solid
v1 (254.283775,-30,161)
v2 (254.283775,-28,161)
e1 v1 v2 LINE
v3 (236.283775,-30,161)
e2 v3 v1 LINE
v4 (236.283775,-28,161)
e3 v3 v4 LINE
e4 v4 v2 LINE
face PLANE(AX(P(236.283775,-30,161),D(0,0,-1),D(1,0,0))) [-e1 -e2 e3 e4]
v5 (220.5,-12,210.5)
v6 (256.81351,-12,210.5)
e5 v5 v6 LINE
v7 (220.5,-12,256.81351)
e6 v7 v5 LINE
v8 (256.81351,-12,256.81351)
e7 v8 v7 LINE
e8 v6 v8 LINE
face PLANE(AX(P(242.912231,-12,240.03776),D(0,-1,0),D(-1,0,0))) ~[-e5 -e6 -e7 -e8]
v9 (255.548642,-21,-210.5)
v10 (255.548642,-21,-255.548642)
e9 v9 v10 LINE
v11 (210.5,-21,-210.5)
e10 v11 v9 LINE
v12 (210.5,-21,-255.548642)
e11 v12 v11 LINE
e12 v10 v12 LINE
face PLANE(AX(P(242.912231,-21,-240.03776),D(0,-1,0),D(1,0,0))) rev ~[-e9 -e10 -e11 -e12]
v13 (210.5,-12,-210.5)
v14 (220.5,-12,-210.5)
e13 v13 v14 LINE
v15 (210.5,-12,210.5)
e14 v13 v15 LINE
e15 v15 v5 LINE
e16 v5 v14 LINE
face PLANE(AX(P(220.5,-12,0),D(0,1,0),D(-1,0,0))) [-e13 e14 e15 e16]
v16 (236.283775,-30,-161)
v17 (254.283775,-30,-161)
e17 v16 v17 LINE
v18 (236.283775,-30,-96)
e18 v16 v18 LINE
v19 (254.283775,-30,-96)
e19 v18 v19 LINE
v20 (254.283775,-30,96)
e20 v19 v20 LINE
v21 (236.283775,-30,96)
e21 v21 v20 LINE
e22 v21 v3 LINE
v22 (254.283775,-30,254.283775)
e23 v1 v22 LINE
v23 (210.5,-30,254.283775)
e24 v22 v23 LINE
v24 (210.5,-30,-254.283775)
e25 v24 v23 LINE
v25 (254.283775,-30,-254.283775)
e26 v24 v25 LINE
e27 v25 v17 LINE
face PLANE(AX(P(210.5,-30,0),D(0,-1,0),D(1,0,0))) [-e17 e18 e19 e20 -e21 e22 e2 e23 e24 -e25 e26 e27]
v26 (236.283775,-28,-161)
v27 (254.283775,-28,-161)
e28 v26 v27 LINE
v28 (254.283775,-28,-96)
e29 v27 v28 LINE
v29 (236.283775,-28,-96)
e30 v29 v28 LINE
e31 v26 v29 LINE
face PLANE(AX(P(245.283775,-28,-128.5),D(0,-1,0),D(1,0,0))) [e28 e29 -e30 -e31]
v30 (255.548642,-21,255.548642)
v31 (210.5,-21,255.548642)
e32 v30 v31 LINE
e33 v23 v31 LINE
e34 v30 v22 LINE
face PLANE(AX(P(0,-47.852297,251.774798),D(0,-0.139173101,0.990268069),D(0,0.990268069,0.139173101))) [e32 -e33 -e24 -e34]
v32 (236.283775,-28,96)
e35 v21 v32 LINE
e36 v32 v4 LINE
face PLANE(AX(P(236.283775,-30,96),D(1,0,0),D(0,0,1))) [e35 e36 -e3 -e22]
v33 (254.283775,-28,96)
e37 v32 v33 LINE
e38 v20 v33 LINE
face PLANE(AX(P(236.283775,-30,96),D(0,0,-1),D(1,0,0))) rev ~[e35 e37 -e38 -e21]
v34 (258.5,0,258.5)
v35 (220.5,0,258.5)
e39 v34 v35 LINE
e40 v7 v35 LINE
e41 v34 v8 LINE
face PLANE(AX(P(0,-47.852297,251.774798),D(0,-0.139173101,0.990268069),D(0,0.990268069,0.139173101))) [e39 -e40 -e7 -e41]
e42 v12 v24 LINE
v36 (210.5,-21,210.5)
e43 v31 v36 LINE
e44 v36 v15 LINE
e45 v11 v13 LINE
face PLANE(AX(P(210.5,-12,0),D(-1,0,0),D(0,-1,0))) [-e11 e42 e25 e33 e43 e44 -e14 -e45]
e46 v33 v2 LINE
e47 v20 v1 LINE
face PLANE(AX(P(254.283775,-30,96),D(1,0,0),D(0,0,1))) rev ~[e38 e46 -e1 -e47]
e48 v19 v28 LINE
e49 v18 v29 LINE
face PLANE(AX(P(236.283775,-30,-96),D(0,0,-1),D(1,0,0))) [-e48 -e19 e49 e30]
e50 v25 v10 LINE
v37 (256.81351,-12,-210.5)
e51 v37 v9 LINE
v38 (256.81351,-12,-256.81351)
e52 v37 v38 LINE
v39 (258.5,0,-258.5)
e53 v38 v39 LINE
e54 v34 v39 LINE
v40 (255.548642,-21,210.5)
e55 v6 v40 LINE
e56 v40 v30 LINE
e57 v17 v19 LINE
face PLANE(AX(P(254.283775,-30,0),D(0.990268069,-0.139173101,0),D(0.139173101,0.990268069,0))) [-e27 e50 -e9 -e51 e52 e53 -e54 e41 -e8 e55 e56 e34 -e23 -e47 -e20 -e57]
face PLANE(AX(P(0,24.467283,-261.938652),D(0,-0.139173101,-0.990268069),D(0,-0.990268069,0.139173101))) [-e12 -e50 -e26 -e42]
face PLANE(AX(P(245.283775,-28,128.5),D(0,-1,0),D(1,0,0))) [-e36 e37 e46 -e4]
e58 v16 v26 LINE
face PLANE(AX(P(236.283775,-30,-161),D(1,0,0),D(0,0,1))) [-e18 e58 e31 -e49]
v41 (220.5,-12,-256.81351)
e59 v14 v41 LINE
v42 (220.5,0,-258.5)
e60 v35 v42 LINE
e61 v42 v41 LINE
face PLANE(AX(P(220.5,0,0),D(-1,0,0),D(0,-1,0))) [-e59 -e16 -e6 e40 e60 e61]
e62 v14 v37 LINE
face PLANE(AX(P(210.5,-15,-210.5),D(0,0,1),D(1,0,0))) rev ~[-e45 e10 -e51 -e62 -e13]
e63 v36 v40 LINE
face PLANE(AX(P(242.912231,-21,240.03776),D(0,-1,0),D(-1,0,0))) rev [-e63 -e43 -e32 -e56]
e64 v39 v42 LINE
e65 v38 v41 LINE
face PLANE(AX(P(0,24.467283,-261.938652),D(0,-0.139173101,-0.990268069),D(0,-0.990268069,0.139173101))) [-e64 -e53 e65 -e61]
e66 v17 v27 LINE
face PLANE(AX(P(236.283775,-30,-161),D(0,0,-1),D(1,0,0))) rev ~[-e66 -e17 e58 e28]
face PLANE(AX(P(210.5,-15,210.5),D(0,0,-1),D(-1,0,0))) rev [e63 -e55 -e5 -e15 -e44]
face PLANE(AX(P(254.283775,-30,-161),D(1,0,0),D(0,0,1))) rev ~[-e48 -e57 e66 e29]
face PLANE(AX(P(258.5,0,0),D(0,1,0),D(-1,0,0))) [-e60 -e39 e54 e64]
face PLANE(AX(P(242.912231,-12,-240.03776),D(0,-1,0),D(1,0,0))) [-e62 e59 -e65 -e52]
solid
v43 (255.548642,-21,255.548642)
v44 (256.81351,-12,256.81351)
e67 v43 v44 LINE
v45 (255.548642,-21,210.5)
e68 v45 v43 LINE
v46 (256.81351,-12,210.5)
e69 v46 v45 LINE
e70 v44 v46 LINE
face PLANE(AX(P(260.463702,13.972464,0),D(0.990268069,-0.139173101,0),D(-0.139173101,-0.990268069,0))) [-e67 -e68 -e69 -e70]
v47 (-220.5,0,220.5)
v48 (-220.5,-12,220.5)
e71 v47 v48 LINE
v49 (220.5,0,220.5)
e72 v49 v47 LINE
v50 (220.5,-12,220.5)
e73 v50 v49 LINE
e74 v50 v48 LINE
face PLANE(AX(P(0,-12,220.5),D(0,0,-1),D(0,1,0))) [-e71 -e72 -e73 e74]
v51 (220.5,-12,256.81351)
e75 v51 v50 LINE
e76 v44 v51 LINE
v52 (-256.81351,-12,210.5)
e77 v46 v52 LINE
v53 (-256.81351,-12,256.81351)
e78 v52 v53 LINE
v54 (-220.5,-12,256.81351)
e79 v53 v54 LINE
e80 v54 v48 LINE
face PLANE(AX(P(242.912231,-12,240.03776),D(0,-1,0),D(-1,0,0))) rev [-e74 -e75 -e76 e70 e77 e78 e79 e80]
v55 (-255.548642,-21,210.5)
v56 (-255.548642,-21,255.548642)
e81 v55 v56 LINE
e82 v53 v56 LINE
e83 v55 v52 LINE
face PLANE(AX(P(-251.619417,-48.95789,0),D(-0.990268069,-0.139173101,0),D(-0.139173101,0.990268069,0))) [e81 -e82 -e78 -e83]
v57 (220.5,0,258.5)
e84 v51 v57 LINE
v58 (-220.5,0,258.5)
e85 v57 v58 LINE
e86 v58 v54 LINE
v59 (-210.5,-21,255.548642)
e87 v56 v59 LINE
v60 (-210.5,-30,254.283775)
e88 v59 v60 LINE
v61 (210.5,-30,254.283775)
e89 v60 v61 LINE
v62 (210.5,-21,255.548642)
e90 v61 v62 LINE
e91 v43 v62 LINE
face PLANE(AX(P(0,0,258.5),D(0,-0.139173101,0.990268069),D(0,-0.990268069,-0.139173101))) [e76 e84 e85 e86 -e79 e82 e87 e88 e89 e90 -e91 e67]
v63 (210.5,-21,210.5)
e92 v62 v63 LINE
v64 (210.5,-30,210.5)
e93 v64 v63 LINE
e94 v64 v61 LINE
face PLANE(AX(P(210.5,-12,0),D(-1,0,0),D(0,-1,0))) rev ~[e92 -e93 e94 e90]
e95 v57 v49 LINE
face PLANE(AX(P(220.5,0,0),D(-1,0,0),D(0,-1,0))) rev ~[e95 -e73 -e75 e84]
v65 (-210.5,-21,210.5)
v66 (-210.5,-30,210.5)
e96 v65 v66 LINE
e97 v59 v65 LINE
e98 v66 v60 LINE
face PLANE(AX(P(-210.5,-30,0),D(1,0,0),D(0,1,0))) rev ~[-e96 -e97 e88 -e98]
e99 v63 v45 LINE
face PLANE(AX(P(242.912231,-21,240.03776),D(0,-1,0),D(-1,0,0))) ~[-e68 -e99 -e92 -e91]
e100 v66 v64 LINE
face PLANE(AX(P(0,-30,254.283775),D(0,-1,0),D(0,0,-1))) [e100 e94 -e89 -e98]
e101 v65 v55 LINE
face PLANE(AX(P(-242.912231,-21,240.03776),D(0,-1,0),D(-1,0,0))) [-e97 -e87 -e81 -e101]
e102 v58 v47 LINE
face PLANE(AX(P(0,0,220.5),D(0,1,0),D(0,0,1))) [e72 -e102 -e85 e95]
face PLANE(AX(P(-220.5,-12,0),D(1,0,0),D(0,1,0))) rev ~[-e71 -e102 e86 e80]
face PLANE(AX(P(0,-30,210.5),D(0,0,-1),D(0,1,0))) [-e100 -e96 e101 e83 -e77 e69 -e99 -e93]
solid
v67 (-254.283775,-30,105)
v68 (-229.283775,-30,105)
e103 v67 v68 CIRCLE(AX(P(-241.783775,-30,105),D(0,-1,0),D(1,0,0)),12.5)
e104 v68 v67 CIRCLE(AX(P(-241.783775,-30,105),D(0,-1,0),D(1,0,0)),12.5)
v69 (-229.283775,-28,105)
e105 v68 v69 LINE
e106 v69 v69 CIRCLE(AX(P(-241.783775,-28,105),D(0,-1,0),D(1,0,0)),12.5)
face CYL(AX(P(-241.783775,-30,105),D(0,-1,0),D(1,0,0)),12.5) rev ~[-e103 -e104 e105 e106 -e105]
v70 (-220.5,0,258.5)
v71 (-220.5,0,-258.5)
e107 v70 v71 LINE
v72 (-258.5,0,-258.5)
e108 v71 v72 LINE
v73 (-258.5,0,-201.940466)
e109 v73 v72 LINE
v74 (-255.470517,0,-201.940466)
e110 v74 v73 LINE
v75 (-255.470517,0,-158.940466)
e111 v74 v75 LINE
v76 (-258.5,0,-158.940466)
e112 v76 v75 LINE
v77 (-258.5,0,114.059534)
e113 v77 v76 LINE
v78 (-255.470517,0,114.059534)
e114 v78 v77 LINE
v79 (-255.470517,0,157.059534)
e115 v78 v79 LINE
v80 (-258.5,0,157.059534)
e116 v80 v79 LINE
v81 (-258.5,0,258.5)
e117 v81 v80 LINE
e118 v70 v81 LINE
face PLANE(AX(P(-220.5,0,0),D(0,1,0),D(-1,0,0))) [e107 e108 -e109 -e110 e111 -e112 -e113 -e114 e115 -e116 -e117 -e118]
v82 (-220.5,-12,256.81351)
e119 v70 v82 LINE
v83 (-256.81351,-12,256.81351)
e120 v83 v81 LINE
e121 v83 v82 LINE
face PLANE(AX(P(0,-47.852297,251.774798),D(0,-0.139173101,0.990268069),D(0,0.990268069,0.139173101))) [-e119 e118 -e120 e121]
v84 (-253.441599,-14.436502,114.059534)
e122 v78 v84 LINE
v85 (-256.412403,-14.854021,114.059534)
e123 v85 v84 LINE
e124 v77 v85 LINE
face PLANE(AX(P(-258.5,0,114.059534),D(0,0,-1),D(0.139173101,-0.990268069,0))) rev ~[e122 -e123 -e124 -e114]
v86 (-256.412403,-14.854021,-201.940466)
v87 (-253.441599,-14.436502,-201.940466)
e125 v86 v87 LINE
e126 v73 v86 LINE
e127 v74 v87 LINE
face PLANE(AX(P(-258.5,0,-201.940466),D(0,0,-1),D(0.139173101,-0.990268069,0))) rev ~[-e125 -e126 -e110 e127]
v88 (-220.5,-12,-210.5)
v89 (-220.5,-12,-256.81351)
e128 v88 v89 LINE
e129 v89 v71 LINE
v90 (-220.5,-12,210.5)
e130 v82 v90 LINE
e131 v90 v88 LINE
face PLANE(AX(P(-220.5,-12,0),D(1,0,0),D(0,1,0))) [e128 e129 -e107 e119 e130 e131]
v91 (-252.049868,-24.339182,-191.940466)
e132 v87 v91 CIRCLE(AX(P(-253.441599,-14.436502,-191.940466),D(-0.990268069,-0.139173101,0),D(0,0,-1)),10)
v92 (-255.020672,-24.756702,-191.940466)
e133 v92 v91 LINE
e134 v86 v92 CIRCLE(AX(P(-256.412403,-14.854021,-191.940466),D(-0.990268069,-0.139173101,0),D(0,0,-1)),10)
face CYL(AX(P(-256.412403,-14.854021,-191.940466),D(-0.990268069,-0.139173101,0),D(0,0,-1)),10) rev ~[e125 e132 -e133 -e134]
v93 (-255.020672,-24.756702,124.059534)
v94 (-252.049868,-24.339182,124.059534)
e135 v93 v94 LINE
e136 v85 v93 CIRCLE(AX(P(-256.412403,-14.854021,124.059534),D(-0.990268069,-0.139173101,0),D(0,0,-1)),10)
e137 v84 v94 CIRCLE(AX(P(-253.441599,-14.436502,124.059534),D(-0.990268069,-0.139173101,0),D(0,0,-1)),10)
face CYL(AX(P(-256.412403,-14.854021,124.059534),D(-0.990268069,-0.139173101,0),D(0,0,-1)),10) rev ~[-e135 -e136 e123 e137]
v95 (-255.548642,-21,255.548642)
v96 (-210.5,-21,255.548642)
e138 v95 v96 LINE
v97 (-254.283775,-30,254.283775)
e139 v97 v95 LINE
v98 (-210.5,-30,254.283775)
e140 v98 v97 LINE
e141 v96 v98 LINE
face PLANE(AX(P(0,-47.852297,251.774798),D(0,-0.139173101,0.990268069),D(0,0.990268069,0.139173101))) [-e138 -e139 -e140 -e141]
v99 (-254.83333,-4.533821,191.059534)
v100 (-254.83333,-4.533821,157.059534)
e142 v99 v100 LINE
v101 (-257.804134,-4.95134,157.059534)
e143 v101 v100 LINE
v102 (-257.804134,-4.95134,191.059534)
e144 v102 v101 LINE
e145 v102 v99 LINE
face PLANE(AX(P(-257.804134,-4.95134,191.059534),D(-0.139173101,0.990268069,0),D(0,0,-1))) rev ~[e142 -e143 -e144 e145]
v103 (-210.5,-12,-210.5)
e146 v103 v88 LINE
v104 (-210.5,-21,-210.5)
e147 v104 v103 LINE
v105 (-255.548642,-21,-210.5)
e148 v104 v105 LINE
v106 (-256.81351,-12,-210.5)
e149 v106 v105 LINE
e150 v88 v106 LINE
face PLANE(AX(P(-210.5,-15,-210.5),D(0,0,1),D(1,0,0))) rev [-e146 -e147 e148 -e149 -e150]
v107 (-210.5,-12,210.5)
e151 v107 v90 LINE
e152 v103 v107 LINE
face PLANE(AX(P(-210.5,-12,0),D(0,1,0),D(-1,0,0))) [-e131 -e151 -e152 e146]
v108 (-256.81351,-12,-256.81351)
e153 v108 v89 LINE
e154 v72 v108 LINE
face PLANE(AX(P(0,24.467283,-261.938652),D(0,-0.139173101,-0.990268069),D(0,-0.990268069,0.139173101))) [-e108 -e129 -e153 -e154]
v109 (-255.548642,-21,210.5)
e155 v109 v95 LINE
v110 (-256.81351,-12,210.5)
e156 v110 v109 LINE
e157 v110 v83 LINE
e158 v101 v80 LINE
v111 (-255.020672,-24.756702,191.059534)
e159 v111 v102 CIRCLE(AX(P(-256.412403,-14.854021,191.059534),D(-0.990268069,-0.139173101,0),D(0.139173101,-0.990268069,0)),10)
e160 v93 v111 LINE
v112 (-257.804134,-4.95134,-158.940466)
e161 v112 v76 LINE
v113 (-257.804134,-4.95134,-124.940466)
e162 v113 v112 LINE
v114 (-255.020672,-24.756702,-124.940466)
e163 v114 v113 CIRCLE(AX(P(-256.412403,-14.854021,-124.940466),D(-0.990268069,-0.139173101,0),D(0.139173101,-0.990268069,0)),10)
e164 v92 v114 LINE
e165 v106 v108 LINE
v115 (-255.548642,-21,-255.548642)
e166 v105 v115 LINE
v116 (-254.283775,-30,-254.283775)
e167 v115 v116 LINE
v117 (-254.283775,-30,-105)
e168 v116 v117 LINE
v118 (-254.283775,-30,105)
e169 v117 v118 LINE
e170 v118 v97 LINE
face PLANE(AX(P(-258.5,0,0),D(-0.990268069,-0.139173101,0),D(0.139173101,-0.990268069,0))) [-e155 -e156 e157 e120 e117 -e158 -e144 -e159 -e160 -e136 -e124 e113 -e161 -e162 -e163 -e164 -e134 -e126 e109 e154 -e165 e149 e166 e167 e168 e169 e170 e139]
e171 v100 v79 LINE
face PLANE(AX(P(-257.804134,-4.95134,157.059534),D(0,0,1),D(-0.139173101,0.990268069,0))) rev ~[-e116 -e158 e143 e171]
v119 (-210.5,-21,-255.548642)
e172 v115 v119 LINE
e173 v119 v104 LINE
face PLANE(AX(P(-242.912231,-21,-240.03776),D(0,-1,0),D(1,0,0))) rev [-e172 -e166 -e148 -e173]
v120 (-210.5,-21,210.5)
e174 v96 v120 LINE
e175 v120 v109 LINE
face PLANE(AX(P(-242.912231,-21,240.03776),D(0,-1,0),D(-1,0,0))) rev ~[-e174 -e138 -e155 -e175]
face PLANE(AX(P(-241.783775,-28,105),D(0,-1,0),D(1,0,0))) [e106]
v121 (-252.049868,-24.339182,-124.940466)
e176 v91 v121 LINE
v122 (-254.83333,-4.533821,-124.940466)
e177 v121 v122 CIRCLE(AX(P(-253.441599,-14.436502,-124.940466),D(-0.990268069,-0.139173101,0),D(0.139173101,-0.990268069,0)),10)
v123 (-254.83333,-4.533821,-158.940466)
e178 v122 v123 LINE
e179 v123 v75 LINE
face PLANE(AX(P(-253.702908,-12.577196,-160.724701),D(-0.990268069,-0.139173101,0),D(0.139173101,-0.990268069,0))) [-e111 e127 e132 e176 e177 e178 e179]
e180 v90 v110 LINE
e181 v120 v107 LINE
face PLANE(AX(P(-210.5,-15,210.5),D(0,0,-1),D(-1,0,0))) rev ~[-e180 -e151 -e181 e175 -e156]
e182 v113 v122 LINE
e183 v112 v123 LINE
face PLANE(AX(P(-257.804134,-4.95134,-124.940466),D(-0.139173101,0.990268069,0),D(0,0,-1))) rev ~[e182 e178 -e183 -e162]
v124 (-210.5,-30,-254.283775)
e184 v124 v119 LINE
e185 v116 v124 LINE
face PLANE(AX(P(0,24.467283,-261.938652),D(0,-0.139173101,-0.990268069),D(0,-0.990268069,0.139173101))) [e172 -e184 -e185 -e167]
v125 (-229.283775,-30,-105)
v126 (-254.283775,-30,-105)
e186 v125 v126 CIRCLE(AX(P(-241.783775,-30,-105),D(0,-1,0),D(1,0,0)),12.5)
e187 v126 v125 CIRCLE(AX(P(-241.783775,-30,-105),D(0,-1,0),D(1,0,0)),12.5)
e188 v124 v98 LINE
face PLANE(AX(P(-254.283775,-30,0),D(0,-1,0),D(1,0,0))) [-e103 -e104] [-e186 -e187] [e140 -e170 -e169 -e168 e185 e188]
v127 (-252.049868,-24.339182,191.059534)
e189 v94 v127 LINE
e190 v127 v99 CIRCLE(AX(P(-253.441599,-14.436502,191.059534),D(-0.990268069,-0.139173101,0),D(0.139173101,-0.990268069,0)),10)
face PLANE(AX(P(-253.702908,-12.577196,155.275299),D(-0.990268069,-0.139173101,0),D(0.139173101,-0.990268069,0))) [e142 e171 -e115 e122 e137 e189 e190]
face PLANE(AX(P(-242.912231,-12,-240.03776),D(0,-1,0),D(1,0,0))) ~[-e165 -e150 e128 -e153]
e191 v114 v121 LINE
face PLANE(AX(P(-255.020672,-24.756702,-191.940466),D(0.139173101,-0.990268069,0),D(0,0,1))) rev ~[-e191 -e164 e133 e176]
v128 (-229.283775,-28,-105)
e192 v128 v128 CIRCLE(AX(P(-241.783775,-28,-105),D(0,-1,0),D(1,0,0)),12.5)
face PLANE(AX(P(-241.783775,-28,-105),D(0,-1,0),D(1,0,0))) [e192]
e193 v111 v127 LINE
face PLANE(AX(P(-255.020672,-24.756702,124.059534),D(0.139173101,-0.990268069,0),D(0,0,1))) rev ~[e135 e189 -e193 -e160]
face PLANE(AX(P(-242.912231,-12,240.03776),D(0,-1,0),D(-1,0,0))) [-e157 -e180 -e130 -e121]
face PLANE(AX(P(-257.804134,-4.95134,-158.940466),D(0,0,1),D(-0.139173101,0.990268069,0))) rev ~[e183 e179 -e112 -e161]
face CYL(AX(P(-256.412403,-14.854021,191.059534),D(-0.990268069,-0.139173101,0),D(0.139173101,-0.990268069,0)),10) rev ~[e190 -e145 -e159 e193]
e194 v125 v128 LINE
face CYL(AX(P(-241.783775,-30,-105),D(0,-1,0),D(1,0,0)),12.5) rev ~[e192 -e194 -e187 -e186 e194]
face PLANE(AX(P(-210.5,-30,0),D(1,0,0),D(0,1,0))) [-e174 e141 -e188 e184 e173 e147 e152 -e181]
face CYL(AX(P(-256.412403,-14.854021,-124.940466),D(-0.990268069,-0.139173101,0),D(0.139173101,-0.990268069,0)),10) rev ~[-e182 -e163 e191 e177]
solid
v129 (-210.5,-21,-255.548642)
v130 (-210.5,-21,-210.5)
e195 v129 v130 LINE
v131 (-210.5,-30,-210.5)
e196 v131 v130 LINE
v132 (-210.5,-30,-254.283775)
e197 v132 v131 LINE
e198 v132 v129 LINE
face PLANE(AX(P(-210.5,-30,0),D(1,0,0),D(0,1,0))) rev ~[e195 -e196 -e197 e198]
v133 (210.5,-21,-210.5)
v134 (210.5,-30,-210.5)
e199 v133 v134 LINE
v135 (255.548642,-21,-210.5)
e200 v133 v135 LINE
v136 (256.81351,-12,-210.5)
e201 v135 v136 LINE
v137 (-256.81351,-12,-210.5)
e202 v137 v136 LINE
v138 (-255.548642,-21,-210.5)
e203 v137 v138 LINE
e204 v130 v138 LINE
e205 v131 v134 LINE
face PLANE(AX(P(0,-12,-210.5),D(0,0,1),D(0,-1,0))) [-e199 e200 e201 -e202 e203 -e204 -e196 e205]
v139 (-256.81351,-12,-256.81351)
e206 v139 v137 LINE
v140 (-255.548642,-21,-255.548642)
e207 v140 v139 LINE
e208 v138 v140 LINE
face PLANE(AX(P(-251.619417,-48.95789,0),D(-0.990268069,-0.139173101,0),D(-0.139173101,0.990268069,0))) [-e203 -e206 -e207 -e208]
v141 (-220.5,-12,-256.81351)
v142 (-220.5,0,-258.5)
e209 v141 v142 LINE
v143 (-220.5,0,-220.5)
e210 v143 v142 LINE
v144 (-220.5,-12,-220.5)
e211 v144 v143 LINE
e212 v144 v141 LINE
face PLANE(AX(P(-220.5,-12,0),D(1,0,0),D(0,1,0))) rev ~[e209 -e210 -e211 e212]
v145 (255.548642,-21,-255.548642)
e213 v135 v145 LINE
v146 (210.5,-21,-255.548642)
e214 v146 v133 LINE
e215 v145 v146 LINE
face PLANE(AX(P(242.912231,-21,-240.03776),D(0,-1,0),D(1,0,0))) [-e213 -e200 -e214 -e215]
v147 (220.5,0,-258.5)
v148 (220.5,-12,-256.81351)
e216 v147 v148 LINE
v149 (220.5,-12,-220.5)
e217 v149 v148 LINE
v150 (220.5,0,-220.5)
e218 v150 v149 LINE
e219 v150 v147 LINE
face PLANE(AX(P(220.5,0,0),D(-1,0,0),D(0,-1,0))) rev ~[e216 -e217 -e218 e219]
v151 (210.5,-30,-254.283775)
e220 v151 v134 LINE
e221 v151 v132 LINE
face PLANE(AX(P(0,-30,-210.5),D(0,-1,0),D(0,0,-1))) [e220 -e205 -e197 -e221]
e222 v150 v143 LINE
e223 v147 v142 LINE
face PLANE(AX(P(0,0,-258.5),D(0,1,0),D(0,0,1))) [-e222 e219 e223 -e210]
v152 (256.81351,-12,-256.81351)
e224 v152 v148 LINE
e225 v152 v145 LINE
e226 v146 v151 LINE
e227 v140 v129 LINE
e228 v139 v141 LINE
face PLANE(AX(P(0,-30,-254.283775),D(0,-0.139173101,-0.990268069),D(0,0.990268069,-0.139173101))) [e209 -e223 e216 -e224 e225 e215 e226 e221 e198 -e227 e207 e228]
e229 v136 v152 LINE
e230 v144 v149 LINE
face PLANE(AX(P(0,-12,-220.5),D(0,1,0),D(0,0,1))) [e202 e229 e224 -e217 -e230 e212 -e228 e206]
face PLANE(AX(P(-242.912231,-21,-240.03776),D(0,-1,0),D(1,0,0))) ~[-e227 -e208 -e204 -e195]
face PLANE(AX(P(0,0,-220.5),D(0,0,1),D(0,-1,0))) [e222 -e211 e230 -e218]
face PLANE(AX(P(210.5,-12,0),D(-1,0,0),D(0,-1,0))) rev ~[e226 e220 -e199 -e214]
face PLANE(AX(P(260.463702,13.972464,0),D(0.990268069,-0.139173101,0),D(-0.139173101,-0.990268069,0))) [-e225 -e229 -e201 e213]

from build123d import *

# Parameters (mm, degrees)
F3_DEPTH       = 258.5
F5_DEPTH       = 258.5
F7_DEPTH       = 258.501
F7_DEPTH_BACK  = 258.501
F9_DEPTH       = 258.501
F9_DEPTH_BACK  = 258.501
F11_DEPTH      = 3
F12_W          = 18
F12_H          = 65
F13_DEPTH      = 2
F14_R          = 12.5
F15_DEPTH      = 2
F17_W          = 64.824461937
F17_H          = 59.0755194426
F18_DEPTH      = 3
F18_DEPTH_BACK = 6


with BuildPart() as f3:
    # F2 (on Top) → F3 (new body, symmetric)
    with BuildSketch(Plane.XY):
        Polygon((-258.5, 0), (-254.2837749589, -30), (-210.5, -30), (-210.5, -12), (-220.5, -12), (-220.5, 0), align=None)
    extrude(amount=F3_DEPTH, both=True)


with BuildPart() as f3b:
    # F2 (on Top) → F3, piece 2 (new body, symmetric)
    with BuildSketch(Plane.XY):
        Polygon((220.5, -12), (210.5, -12), (210.5, -30), (254.2837749589, -30), (258.5, 0), (220.5, 0), align=None)
    extrude(amount=F3_DEPTH, both=True)


with BuildPart() as f5:
    # F4 (on Right) → F5 (new body, symmetric)
    with BuildSketch(Plane.YZ):
        Polygon((0, 258.5), (-30, 254.2837749589), (-30, 210.5), (-12, 210.5), (-12, 220.5), (0, 220.5), align=None)
    extrude(amount=F5_DEPTH, both=True)


with BuildPart() as f5b:
    # F4 (on Right) → F5, piece 2 (new body, symmetric)
    with BuildSketch(Plane.YZ):
        Polygon((0, -220.5), (-12, -220.5), (-12, -210.5), (-30, -210.5), (-30, -254.2837749589), (0, -258.5), align=None)
    extrude(amount=F5_DEPTH, both=True)


with BuildPart() as f7_tool:
    # F6 (on Right) → F7 (new body, two sides)
    with BuildSketch(Plane.YZ) as f7_sk:
        Polygon((0, -295.9069610134), (24.4672827957, -261.938652347), (-48.7457476345, -251.6492319393), (-48.7457476345, -295.9069610134), align=None)
        Polygon((-47.852296514, 251.7747983055), (25.8951478905, 262.1393256993), (26.3699738853, 270.3554644987), (-47.852296514, 276.1369097592), align=None)
    extrude(amount=-F7_DEPTH)
    extrude(f7_sk.sketch, amount=F7_DEPTH_BACK)


with BuildPart() as f3_1:
    add(f3.part)

    # F7: cut by f7_tool
    add(f7_tool.part, mode=Mode.SUBTRACT)

    # F10 (on face) → F11 (cut)
    with BuildSketch(Plane(origin=(-253.4930742, -35.6261282393, 0), x_dir=(0.139173101, -0.9902680687, 0), z_dir=(-0.9902680687, -0.139173101, 0))):
        with BuildLine():
            Line((-10.9762465982, 124.059534058), (-10.9762465982, 191.059534058))
            ThreePointArc((-10.9762465982, 191.059534058), (-20.9762465982, 201.059534058), (-30.9762465982, 191.059534058))
            Line((-30.9762465982, 191.059534058), (-30.9762465982, 157.059534058))
            Line((-30.9762465982, 157.059534058), (-35.9762465982, 157.059534058))
            Line((-35.9762465982, 157.059534058), (-35.9762465982, 114.059534058))
            Line((-35.9762465982, 114.059534058), (-20.9762465982, 114.059534058))
            ThreePointArc((-20.9762465982, 114.059534058), (-13.9051787863, 116.9884662461), (-10.9762465982, 124.059534058))
        make_face()
        with BuildLine():
            ThreePointArc((-10.9762465982, -124.940465942), (-20.9762465982, -114.940465942), (-30.9762465982, -124.940465942))
            Line((-30.9762465982, -124.940465942), (-30.9762465982, -158.940465942))
            Line((-30.9762465982, -158.940465942), (-35.9762465982, -158.940465942))
            Line((-35.9762465982, -158.940465942), (-35.9762465982, -201.940465942))
            Line((-35.9762465982, -201.940465942), (-20.9762465982, -201.940465942))
            ThreePointArc((-20.9762465982, -201.940465942), (-13.9051787863, -199.0115337539), (-10.9762465982, -191.940465942))
            Line((-10.9762465982, -191.940465942), (-10.9762465982, -124.940465942))
        make_face()
    extrude(amount=-F11_DEPTH, mode=Mode.SUBTRACT)

    # F14 (on face) → F15 (cut)
    with BuildSketch(Plane.XZ.offset(30)):
        with Locations((-241.7837749589, 105)):
            Circle(F14_R)
        with Locations((-241.7837749589, -105)):
            Circle(F14_R)
    extrude(amount=-F15_DEPTH, mode=Mode.SUBTRACT)


with BuildPart() as f3b_1:
    add(f3b.part)

    # F7: cut by f7_tool
    add(f7_tool.part, mode=Mode.SUBTRACT)

    # F12 (on face) → F13 (cut)
    with BuildSketch(Plane.XZ.offset(30)):
        with Locations((245.2837749589, -128.5)):
            Rectangle(F12_W, F12_H)
        with Locations((245.2837749589, 128.5)):
            Rectangle(F12_W, F12_H)
    extrude(amount=-F13_DEPTH, mode=Mode.SUBTRACT)


with BuildPart() as f9_tool:
    # F8 (on Top) → F9 (new body, two sides)
    with BuildSketch(Plane.XY) as f9_sk:
        Polygon((260.4637017772, 13.9724641694), (251.4188319683, -50.3851286117), (300.2003759384, -48.7030035797), (300.2003759384, 13.9724641694), align=None)
        Polygon((-297.8262491496, -49.207656216), (-251.6194172175, -48.9578904026), (-261.5749153306, 21.8791594421), (-297.8262491496, 21.8791594421), align=None)
    extrude(amount=-F9_DEPTH)
    extrude(f9_sk.sketch, amount=F9_DEPTH_BACK)


with BuildPart() as f5_1:
    add(f5.part)

    # F9: cut by f9_tool
    add(f9_tool.part, mode=Mode.SUBTRACT)


with BuildPart() as f5b_1:
    add(f5b.part)

    # F9: cut by f9_tool
    add(f9_tool.part, mode=Mode.SUBTRACT)


with BuildPart() as f18:
    # F17 (on mid) → F18 (new body, two sides)
    with BuildSketch(Plane.XZ.offset(15)) as f18_sk:
        with Locations((242.9122309685, -240.0377597213)):
            Rectangle(F17_W, F17_H)
    extrude(amount=-F18_DEPTH)
    extrude(f18_sk.sketch, amount=F18_DEPTH_BACK)


with BuildPart() as f19_1:
    # F19: instance of F18
    add(f18.part.mirror(Plane.XY))


with BuildPart() as f20_1:
    # F20: instance of F18
    add(f18.part.mirror(Plane.YZ))


with BuildPart() as f20_2:
    # F20: instance of F19_1
    add(f19_1.part.mirror(Plane.YZ))


with BuildPart() as f3b_2:
    add(f3b_1.part)

    # F21: cut F18, F19_1, F20_2, F20_1
    add(f18.part, mode=Mode.SUBTRACT)
    add(f19_1.part, mode=Mode.SUBTRACT)
    add(f20_2.part, mode=Mode.SUBTRACT)
    add(f20_1.part, mode=Mode.SUBTRACT)


with BuildPart() as f3_2:
    add(f3_1.part)

    # F21: cut F18, F19_1, F20_2, F20_1
    add(f18.part, mode=Mode.SUBTRACT)
    add(f19_1.part, mode=Mode.SUBTRACT)
    add(f20_2.part, mode=Mode.SUBTRACT)
    add(f20_1.part, mode=Mode.SUBTRACT)


with BuildPart() as f5b_2:
    add(f5b_1.part)

    # F22: cut F3b, F3
    add(f3b_2.part, mode=Mode.SUBTRACT)
    add(f3_2.part, mode=Mode.SUBTRACT)


with BuildPart() as f5_2:
    add(f5_1.part)

    # F22: cut F3b, F3
    add(f3b_2.part, mode=Mode.SUBTRACT)
    add(f3_2.part, mode=Mode.SUBTRACT)


solid = Compound([f3b_2.part, f3_2.part, f5b_2.part, f5_2.part])
